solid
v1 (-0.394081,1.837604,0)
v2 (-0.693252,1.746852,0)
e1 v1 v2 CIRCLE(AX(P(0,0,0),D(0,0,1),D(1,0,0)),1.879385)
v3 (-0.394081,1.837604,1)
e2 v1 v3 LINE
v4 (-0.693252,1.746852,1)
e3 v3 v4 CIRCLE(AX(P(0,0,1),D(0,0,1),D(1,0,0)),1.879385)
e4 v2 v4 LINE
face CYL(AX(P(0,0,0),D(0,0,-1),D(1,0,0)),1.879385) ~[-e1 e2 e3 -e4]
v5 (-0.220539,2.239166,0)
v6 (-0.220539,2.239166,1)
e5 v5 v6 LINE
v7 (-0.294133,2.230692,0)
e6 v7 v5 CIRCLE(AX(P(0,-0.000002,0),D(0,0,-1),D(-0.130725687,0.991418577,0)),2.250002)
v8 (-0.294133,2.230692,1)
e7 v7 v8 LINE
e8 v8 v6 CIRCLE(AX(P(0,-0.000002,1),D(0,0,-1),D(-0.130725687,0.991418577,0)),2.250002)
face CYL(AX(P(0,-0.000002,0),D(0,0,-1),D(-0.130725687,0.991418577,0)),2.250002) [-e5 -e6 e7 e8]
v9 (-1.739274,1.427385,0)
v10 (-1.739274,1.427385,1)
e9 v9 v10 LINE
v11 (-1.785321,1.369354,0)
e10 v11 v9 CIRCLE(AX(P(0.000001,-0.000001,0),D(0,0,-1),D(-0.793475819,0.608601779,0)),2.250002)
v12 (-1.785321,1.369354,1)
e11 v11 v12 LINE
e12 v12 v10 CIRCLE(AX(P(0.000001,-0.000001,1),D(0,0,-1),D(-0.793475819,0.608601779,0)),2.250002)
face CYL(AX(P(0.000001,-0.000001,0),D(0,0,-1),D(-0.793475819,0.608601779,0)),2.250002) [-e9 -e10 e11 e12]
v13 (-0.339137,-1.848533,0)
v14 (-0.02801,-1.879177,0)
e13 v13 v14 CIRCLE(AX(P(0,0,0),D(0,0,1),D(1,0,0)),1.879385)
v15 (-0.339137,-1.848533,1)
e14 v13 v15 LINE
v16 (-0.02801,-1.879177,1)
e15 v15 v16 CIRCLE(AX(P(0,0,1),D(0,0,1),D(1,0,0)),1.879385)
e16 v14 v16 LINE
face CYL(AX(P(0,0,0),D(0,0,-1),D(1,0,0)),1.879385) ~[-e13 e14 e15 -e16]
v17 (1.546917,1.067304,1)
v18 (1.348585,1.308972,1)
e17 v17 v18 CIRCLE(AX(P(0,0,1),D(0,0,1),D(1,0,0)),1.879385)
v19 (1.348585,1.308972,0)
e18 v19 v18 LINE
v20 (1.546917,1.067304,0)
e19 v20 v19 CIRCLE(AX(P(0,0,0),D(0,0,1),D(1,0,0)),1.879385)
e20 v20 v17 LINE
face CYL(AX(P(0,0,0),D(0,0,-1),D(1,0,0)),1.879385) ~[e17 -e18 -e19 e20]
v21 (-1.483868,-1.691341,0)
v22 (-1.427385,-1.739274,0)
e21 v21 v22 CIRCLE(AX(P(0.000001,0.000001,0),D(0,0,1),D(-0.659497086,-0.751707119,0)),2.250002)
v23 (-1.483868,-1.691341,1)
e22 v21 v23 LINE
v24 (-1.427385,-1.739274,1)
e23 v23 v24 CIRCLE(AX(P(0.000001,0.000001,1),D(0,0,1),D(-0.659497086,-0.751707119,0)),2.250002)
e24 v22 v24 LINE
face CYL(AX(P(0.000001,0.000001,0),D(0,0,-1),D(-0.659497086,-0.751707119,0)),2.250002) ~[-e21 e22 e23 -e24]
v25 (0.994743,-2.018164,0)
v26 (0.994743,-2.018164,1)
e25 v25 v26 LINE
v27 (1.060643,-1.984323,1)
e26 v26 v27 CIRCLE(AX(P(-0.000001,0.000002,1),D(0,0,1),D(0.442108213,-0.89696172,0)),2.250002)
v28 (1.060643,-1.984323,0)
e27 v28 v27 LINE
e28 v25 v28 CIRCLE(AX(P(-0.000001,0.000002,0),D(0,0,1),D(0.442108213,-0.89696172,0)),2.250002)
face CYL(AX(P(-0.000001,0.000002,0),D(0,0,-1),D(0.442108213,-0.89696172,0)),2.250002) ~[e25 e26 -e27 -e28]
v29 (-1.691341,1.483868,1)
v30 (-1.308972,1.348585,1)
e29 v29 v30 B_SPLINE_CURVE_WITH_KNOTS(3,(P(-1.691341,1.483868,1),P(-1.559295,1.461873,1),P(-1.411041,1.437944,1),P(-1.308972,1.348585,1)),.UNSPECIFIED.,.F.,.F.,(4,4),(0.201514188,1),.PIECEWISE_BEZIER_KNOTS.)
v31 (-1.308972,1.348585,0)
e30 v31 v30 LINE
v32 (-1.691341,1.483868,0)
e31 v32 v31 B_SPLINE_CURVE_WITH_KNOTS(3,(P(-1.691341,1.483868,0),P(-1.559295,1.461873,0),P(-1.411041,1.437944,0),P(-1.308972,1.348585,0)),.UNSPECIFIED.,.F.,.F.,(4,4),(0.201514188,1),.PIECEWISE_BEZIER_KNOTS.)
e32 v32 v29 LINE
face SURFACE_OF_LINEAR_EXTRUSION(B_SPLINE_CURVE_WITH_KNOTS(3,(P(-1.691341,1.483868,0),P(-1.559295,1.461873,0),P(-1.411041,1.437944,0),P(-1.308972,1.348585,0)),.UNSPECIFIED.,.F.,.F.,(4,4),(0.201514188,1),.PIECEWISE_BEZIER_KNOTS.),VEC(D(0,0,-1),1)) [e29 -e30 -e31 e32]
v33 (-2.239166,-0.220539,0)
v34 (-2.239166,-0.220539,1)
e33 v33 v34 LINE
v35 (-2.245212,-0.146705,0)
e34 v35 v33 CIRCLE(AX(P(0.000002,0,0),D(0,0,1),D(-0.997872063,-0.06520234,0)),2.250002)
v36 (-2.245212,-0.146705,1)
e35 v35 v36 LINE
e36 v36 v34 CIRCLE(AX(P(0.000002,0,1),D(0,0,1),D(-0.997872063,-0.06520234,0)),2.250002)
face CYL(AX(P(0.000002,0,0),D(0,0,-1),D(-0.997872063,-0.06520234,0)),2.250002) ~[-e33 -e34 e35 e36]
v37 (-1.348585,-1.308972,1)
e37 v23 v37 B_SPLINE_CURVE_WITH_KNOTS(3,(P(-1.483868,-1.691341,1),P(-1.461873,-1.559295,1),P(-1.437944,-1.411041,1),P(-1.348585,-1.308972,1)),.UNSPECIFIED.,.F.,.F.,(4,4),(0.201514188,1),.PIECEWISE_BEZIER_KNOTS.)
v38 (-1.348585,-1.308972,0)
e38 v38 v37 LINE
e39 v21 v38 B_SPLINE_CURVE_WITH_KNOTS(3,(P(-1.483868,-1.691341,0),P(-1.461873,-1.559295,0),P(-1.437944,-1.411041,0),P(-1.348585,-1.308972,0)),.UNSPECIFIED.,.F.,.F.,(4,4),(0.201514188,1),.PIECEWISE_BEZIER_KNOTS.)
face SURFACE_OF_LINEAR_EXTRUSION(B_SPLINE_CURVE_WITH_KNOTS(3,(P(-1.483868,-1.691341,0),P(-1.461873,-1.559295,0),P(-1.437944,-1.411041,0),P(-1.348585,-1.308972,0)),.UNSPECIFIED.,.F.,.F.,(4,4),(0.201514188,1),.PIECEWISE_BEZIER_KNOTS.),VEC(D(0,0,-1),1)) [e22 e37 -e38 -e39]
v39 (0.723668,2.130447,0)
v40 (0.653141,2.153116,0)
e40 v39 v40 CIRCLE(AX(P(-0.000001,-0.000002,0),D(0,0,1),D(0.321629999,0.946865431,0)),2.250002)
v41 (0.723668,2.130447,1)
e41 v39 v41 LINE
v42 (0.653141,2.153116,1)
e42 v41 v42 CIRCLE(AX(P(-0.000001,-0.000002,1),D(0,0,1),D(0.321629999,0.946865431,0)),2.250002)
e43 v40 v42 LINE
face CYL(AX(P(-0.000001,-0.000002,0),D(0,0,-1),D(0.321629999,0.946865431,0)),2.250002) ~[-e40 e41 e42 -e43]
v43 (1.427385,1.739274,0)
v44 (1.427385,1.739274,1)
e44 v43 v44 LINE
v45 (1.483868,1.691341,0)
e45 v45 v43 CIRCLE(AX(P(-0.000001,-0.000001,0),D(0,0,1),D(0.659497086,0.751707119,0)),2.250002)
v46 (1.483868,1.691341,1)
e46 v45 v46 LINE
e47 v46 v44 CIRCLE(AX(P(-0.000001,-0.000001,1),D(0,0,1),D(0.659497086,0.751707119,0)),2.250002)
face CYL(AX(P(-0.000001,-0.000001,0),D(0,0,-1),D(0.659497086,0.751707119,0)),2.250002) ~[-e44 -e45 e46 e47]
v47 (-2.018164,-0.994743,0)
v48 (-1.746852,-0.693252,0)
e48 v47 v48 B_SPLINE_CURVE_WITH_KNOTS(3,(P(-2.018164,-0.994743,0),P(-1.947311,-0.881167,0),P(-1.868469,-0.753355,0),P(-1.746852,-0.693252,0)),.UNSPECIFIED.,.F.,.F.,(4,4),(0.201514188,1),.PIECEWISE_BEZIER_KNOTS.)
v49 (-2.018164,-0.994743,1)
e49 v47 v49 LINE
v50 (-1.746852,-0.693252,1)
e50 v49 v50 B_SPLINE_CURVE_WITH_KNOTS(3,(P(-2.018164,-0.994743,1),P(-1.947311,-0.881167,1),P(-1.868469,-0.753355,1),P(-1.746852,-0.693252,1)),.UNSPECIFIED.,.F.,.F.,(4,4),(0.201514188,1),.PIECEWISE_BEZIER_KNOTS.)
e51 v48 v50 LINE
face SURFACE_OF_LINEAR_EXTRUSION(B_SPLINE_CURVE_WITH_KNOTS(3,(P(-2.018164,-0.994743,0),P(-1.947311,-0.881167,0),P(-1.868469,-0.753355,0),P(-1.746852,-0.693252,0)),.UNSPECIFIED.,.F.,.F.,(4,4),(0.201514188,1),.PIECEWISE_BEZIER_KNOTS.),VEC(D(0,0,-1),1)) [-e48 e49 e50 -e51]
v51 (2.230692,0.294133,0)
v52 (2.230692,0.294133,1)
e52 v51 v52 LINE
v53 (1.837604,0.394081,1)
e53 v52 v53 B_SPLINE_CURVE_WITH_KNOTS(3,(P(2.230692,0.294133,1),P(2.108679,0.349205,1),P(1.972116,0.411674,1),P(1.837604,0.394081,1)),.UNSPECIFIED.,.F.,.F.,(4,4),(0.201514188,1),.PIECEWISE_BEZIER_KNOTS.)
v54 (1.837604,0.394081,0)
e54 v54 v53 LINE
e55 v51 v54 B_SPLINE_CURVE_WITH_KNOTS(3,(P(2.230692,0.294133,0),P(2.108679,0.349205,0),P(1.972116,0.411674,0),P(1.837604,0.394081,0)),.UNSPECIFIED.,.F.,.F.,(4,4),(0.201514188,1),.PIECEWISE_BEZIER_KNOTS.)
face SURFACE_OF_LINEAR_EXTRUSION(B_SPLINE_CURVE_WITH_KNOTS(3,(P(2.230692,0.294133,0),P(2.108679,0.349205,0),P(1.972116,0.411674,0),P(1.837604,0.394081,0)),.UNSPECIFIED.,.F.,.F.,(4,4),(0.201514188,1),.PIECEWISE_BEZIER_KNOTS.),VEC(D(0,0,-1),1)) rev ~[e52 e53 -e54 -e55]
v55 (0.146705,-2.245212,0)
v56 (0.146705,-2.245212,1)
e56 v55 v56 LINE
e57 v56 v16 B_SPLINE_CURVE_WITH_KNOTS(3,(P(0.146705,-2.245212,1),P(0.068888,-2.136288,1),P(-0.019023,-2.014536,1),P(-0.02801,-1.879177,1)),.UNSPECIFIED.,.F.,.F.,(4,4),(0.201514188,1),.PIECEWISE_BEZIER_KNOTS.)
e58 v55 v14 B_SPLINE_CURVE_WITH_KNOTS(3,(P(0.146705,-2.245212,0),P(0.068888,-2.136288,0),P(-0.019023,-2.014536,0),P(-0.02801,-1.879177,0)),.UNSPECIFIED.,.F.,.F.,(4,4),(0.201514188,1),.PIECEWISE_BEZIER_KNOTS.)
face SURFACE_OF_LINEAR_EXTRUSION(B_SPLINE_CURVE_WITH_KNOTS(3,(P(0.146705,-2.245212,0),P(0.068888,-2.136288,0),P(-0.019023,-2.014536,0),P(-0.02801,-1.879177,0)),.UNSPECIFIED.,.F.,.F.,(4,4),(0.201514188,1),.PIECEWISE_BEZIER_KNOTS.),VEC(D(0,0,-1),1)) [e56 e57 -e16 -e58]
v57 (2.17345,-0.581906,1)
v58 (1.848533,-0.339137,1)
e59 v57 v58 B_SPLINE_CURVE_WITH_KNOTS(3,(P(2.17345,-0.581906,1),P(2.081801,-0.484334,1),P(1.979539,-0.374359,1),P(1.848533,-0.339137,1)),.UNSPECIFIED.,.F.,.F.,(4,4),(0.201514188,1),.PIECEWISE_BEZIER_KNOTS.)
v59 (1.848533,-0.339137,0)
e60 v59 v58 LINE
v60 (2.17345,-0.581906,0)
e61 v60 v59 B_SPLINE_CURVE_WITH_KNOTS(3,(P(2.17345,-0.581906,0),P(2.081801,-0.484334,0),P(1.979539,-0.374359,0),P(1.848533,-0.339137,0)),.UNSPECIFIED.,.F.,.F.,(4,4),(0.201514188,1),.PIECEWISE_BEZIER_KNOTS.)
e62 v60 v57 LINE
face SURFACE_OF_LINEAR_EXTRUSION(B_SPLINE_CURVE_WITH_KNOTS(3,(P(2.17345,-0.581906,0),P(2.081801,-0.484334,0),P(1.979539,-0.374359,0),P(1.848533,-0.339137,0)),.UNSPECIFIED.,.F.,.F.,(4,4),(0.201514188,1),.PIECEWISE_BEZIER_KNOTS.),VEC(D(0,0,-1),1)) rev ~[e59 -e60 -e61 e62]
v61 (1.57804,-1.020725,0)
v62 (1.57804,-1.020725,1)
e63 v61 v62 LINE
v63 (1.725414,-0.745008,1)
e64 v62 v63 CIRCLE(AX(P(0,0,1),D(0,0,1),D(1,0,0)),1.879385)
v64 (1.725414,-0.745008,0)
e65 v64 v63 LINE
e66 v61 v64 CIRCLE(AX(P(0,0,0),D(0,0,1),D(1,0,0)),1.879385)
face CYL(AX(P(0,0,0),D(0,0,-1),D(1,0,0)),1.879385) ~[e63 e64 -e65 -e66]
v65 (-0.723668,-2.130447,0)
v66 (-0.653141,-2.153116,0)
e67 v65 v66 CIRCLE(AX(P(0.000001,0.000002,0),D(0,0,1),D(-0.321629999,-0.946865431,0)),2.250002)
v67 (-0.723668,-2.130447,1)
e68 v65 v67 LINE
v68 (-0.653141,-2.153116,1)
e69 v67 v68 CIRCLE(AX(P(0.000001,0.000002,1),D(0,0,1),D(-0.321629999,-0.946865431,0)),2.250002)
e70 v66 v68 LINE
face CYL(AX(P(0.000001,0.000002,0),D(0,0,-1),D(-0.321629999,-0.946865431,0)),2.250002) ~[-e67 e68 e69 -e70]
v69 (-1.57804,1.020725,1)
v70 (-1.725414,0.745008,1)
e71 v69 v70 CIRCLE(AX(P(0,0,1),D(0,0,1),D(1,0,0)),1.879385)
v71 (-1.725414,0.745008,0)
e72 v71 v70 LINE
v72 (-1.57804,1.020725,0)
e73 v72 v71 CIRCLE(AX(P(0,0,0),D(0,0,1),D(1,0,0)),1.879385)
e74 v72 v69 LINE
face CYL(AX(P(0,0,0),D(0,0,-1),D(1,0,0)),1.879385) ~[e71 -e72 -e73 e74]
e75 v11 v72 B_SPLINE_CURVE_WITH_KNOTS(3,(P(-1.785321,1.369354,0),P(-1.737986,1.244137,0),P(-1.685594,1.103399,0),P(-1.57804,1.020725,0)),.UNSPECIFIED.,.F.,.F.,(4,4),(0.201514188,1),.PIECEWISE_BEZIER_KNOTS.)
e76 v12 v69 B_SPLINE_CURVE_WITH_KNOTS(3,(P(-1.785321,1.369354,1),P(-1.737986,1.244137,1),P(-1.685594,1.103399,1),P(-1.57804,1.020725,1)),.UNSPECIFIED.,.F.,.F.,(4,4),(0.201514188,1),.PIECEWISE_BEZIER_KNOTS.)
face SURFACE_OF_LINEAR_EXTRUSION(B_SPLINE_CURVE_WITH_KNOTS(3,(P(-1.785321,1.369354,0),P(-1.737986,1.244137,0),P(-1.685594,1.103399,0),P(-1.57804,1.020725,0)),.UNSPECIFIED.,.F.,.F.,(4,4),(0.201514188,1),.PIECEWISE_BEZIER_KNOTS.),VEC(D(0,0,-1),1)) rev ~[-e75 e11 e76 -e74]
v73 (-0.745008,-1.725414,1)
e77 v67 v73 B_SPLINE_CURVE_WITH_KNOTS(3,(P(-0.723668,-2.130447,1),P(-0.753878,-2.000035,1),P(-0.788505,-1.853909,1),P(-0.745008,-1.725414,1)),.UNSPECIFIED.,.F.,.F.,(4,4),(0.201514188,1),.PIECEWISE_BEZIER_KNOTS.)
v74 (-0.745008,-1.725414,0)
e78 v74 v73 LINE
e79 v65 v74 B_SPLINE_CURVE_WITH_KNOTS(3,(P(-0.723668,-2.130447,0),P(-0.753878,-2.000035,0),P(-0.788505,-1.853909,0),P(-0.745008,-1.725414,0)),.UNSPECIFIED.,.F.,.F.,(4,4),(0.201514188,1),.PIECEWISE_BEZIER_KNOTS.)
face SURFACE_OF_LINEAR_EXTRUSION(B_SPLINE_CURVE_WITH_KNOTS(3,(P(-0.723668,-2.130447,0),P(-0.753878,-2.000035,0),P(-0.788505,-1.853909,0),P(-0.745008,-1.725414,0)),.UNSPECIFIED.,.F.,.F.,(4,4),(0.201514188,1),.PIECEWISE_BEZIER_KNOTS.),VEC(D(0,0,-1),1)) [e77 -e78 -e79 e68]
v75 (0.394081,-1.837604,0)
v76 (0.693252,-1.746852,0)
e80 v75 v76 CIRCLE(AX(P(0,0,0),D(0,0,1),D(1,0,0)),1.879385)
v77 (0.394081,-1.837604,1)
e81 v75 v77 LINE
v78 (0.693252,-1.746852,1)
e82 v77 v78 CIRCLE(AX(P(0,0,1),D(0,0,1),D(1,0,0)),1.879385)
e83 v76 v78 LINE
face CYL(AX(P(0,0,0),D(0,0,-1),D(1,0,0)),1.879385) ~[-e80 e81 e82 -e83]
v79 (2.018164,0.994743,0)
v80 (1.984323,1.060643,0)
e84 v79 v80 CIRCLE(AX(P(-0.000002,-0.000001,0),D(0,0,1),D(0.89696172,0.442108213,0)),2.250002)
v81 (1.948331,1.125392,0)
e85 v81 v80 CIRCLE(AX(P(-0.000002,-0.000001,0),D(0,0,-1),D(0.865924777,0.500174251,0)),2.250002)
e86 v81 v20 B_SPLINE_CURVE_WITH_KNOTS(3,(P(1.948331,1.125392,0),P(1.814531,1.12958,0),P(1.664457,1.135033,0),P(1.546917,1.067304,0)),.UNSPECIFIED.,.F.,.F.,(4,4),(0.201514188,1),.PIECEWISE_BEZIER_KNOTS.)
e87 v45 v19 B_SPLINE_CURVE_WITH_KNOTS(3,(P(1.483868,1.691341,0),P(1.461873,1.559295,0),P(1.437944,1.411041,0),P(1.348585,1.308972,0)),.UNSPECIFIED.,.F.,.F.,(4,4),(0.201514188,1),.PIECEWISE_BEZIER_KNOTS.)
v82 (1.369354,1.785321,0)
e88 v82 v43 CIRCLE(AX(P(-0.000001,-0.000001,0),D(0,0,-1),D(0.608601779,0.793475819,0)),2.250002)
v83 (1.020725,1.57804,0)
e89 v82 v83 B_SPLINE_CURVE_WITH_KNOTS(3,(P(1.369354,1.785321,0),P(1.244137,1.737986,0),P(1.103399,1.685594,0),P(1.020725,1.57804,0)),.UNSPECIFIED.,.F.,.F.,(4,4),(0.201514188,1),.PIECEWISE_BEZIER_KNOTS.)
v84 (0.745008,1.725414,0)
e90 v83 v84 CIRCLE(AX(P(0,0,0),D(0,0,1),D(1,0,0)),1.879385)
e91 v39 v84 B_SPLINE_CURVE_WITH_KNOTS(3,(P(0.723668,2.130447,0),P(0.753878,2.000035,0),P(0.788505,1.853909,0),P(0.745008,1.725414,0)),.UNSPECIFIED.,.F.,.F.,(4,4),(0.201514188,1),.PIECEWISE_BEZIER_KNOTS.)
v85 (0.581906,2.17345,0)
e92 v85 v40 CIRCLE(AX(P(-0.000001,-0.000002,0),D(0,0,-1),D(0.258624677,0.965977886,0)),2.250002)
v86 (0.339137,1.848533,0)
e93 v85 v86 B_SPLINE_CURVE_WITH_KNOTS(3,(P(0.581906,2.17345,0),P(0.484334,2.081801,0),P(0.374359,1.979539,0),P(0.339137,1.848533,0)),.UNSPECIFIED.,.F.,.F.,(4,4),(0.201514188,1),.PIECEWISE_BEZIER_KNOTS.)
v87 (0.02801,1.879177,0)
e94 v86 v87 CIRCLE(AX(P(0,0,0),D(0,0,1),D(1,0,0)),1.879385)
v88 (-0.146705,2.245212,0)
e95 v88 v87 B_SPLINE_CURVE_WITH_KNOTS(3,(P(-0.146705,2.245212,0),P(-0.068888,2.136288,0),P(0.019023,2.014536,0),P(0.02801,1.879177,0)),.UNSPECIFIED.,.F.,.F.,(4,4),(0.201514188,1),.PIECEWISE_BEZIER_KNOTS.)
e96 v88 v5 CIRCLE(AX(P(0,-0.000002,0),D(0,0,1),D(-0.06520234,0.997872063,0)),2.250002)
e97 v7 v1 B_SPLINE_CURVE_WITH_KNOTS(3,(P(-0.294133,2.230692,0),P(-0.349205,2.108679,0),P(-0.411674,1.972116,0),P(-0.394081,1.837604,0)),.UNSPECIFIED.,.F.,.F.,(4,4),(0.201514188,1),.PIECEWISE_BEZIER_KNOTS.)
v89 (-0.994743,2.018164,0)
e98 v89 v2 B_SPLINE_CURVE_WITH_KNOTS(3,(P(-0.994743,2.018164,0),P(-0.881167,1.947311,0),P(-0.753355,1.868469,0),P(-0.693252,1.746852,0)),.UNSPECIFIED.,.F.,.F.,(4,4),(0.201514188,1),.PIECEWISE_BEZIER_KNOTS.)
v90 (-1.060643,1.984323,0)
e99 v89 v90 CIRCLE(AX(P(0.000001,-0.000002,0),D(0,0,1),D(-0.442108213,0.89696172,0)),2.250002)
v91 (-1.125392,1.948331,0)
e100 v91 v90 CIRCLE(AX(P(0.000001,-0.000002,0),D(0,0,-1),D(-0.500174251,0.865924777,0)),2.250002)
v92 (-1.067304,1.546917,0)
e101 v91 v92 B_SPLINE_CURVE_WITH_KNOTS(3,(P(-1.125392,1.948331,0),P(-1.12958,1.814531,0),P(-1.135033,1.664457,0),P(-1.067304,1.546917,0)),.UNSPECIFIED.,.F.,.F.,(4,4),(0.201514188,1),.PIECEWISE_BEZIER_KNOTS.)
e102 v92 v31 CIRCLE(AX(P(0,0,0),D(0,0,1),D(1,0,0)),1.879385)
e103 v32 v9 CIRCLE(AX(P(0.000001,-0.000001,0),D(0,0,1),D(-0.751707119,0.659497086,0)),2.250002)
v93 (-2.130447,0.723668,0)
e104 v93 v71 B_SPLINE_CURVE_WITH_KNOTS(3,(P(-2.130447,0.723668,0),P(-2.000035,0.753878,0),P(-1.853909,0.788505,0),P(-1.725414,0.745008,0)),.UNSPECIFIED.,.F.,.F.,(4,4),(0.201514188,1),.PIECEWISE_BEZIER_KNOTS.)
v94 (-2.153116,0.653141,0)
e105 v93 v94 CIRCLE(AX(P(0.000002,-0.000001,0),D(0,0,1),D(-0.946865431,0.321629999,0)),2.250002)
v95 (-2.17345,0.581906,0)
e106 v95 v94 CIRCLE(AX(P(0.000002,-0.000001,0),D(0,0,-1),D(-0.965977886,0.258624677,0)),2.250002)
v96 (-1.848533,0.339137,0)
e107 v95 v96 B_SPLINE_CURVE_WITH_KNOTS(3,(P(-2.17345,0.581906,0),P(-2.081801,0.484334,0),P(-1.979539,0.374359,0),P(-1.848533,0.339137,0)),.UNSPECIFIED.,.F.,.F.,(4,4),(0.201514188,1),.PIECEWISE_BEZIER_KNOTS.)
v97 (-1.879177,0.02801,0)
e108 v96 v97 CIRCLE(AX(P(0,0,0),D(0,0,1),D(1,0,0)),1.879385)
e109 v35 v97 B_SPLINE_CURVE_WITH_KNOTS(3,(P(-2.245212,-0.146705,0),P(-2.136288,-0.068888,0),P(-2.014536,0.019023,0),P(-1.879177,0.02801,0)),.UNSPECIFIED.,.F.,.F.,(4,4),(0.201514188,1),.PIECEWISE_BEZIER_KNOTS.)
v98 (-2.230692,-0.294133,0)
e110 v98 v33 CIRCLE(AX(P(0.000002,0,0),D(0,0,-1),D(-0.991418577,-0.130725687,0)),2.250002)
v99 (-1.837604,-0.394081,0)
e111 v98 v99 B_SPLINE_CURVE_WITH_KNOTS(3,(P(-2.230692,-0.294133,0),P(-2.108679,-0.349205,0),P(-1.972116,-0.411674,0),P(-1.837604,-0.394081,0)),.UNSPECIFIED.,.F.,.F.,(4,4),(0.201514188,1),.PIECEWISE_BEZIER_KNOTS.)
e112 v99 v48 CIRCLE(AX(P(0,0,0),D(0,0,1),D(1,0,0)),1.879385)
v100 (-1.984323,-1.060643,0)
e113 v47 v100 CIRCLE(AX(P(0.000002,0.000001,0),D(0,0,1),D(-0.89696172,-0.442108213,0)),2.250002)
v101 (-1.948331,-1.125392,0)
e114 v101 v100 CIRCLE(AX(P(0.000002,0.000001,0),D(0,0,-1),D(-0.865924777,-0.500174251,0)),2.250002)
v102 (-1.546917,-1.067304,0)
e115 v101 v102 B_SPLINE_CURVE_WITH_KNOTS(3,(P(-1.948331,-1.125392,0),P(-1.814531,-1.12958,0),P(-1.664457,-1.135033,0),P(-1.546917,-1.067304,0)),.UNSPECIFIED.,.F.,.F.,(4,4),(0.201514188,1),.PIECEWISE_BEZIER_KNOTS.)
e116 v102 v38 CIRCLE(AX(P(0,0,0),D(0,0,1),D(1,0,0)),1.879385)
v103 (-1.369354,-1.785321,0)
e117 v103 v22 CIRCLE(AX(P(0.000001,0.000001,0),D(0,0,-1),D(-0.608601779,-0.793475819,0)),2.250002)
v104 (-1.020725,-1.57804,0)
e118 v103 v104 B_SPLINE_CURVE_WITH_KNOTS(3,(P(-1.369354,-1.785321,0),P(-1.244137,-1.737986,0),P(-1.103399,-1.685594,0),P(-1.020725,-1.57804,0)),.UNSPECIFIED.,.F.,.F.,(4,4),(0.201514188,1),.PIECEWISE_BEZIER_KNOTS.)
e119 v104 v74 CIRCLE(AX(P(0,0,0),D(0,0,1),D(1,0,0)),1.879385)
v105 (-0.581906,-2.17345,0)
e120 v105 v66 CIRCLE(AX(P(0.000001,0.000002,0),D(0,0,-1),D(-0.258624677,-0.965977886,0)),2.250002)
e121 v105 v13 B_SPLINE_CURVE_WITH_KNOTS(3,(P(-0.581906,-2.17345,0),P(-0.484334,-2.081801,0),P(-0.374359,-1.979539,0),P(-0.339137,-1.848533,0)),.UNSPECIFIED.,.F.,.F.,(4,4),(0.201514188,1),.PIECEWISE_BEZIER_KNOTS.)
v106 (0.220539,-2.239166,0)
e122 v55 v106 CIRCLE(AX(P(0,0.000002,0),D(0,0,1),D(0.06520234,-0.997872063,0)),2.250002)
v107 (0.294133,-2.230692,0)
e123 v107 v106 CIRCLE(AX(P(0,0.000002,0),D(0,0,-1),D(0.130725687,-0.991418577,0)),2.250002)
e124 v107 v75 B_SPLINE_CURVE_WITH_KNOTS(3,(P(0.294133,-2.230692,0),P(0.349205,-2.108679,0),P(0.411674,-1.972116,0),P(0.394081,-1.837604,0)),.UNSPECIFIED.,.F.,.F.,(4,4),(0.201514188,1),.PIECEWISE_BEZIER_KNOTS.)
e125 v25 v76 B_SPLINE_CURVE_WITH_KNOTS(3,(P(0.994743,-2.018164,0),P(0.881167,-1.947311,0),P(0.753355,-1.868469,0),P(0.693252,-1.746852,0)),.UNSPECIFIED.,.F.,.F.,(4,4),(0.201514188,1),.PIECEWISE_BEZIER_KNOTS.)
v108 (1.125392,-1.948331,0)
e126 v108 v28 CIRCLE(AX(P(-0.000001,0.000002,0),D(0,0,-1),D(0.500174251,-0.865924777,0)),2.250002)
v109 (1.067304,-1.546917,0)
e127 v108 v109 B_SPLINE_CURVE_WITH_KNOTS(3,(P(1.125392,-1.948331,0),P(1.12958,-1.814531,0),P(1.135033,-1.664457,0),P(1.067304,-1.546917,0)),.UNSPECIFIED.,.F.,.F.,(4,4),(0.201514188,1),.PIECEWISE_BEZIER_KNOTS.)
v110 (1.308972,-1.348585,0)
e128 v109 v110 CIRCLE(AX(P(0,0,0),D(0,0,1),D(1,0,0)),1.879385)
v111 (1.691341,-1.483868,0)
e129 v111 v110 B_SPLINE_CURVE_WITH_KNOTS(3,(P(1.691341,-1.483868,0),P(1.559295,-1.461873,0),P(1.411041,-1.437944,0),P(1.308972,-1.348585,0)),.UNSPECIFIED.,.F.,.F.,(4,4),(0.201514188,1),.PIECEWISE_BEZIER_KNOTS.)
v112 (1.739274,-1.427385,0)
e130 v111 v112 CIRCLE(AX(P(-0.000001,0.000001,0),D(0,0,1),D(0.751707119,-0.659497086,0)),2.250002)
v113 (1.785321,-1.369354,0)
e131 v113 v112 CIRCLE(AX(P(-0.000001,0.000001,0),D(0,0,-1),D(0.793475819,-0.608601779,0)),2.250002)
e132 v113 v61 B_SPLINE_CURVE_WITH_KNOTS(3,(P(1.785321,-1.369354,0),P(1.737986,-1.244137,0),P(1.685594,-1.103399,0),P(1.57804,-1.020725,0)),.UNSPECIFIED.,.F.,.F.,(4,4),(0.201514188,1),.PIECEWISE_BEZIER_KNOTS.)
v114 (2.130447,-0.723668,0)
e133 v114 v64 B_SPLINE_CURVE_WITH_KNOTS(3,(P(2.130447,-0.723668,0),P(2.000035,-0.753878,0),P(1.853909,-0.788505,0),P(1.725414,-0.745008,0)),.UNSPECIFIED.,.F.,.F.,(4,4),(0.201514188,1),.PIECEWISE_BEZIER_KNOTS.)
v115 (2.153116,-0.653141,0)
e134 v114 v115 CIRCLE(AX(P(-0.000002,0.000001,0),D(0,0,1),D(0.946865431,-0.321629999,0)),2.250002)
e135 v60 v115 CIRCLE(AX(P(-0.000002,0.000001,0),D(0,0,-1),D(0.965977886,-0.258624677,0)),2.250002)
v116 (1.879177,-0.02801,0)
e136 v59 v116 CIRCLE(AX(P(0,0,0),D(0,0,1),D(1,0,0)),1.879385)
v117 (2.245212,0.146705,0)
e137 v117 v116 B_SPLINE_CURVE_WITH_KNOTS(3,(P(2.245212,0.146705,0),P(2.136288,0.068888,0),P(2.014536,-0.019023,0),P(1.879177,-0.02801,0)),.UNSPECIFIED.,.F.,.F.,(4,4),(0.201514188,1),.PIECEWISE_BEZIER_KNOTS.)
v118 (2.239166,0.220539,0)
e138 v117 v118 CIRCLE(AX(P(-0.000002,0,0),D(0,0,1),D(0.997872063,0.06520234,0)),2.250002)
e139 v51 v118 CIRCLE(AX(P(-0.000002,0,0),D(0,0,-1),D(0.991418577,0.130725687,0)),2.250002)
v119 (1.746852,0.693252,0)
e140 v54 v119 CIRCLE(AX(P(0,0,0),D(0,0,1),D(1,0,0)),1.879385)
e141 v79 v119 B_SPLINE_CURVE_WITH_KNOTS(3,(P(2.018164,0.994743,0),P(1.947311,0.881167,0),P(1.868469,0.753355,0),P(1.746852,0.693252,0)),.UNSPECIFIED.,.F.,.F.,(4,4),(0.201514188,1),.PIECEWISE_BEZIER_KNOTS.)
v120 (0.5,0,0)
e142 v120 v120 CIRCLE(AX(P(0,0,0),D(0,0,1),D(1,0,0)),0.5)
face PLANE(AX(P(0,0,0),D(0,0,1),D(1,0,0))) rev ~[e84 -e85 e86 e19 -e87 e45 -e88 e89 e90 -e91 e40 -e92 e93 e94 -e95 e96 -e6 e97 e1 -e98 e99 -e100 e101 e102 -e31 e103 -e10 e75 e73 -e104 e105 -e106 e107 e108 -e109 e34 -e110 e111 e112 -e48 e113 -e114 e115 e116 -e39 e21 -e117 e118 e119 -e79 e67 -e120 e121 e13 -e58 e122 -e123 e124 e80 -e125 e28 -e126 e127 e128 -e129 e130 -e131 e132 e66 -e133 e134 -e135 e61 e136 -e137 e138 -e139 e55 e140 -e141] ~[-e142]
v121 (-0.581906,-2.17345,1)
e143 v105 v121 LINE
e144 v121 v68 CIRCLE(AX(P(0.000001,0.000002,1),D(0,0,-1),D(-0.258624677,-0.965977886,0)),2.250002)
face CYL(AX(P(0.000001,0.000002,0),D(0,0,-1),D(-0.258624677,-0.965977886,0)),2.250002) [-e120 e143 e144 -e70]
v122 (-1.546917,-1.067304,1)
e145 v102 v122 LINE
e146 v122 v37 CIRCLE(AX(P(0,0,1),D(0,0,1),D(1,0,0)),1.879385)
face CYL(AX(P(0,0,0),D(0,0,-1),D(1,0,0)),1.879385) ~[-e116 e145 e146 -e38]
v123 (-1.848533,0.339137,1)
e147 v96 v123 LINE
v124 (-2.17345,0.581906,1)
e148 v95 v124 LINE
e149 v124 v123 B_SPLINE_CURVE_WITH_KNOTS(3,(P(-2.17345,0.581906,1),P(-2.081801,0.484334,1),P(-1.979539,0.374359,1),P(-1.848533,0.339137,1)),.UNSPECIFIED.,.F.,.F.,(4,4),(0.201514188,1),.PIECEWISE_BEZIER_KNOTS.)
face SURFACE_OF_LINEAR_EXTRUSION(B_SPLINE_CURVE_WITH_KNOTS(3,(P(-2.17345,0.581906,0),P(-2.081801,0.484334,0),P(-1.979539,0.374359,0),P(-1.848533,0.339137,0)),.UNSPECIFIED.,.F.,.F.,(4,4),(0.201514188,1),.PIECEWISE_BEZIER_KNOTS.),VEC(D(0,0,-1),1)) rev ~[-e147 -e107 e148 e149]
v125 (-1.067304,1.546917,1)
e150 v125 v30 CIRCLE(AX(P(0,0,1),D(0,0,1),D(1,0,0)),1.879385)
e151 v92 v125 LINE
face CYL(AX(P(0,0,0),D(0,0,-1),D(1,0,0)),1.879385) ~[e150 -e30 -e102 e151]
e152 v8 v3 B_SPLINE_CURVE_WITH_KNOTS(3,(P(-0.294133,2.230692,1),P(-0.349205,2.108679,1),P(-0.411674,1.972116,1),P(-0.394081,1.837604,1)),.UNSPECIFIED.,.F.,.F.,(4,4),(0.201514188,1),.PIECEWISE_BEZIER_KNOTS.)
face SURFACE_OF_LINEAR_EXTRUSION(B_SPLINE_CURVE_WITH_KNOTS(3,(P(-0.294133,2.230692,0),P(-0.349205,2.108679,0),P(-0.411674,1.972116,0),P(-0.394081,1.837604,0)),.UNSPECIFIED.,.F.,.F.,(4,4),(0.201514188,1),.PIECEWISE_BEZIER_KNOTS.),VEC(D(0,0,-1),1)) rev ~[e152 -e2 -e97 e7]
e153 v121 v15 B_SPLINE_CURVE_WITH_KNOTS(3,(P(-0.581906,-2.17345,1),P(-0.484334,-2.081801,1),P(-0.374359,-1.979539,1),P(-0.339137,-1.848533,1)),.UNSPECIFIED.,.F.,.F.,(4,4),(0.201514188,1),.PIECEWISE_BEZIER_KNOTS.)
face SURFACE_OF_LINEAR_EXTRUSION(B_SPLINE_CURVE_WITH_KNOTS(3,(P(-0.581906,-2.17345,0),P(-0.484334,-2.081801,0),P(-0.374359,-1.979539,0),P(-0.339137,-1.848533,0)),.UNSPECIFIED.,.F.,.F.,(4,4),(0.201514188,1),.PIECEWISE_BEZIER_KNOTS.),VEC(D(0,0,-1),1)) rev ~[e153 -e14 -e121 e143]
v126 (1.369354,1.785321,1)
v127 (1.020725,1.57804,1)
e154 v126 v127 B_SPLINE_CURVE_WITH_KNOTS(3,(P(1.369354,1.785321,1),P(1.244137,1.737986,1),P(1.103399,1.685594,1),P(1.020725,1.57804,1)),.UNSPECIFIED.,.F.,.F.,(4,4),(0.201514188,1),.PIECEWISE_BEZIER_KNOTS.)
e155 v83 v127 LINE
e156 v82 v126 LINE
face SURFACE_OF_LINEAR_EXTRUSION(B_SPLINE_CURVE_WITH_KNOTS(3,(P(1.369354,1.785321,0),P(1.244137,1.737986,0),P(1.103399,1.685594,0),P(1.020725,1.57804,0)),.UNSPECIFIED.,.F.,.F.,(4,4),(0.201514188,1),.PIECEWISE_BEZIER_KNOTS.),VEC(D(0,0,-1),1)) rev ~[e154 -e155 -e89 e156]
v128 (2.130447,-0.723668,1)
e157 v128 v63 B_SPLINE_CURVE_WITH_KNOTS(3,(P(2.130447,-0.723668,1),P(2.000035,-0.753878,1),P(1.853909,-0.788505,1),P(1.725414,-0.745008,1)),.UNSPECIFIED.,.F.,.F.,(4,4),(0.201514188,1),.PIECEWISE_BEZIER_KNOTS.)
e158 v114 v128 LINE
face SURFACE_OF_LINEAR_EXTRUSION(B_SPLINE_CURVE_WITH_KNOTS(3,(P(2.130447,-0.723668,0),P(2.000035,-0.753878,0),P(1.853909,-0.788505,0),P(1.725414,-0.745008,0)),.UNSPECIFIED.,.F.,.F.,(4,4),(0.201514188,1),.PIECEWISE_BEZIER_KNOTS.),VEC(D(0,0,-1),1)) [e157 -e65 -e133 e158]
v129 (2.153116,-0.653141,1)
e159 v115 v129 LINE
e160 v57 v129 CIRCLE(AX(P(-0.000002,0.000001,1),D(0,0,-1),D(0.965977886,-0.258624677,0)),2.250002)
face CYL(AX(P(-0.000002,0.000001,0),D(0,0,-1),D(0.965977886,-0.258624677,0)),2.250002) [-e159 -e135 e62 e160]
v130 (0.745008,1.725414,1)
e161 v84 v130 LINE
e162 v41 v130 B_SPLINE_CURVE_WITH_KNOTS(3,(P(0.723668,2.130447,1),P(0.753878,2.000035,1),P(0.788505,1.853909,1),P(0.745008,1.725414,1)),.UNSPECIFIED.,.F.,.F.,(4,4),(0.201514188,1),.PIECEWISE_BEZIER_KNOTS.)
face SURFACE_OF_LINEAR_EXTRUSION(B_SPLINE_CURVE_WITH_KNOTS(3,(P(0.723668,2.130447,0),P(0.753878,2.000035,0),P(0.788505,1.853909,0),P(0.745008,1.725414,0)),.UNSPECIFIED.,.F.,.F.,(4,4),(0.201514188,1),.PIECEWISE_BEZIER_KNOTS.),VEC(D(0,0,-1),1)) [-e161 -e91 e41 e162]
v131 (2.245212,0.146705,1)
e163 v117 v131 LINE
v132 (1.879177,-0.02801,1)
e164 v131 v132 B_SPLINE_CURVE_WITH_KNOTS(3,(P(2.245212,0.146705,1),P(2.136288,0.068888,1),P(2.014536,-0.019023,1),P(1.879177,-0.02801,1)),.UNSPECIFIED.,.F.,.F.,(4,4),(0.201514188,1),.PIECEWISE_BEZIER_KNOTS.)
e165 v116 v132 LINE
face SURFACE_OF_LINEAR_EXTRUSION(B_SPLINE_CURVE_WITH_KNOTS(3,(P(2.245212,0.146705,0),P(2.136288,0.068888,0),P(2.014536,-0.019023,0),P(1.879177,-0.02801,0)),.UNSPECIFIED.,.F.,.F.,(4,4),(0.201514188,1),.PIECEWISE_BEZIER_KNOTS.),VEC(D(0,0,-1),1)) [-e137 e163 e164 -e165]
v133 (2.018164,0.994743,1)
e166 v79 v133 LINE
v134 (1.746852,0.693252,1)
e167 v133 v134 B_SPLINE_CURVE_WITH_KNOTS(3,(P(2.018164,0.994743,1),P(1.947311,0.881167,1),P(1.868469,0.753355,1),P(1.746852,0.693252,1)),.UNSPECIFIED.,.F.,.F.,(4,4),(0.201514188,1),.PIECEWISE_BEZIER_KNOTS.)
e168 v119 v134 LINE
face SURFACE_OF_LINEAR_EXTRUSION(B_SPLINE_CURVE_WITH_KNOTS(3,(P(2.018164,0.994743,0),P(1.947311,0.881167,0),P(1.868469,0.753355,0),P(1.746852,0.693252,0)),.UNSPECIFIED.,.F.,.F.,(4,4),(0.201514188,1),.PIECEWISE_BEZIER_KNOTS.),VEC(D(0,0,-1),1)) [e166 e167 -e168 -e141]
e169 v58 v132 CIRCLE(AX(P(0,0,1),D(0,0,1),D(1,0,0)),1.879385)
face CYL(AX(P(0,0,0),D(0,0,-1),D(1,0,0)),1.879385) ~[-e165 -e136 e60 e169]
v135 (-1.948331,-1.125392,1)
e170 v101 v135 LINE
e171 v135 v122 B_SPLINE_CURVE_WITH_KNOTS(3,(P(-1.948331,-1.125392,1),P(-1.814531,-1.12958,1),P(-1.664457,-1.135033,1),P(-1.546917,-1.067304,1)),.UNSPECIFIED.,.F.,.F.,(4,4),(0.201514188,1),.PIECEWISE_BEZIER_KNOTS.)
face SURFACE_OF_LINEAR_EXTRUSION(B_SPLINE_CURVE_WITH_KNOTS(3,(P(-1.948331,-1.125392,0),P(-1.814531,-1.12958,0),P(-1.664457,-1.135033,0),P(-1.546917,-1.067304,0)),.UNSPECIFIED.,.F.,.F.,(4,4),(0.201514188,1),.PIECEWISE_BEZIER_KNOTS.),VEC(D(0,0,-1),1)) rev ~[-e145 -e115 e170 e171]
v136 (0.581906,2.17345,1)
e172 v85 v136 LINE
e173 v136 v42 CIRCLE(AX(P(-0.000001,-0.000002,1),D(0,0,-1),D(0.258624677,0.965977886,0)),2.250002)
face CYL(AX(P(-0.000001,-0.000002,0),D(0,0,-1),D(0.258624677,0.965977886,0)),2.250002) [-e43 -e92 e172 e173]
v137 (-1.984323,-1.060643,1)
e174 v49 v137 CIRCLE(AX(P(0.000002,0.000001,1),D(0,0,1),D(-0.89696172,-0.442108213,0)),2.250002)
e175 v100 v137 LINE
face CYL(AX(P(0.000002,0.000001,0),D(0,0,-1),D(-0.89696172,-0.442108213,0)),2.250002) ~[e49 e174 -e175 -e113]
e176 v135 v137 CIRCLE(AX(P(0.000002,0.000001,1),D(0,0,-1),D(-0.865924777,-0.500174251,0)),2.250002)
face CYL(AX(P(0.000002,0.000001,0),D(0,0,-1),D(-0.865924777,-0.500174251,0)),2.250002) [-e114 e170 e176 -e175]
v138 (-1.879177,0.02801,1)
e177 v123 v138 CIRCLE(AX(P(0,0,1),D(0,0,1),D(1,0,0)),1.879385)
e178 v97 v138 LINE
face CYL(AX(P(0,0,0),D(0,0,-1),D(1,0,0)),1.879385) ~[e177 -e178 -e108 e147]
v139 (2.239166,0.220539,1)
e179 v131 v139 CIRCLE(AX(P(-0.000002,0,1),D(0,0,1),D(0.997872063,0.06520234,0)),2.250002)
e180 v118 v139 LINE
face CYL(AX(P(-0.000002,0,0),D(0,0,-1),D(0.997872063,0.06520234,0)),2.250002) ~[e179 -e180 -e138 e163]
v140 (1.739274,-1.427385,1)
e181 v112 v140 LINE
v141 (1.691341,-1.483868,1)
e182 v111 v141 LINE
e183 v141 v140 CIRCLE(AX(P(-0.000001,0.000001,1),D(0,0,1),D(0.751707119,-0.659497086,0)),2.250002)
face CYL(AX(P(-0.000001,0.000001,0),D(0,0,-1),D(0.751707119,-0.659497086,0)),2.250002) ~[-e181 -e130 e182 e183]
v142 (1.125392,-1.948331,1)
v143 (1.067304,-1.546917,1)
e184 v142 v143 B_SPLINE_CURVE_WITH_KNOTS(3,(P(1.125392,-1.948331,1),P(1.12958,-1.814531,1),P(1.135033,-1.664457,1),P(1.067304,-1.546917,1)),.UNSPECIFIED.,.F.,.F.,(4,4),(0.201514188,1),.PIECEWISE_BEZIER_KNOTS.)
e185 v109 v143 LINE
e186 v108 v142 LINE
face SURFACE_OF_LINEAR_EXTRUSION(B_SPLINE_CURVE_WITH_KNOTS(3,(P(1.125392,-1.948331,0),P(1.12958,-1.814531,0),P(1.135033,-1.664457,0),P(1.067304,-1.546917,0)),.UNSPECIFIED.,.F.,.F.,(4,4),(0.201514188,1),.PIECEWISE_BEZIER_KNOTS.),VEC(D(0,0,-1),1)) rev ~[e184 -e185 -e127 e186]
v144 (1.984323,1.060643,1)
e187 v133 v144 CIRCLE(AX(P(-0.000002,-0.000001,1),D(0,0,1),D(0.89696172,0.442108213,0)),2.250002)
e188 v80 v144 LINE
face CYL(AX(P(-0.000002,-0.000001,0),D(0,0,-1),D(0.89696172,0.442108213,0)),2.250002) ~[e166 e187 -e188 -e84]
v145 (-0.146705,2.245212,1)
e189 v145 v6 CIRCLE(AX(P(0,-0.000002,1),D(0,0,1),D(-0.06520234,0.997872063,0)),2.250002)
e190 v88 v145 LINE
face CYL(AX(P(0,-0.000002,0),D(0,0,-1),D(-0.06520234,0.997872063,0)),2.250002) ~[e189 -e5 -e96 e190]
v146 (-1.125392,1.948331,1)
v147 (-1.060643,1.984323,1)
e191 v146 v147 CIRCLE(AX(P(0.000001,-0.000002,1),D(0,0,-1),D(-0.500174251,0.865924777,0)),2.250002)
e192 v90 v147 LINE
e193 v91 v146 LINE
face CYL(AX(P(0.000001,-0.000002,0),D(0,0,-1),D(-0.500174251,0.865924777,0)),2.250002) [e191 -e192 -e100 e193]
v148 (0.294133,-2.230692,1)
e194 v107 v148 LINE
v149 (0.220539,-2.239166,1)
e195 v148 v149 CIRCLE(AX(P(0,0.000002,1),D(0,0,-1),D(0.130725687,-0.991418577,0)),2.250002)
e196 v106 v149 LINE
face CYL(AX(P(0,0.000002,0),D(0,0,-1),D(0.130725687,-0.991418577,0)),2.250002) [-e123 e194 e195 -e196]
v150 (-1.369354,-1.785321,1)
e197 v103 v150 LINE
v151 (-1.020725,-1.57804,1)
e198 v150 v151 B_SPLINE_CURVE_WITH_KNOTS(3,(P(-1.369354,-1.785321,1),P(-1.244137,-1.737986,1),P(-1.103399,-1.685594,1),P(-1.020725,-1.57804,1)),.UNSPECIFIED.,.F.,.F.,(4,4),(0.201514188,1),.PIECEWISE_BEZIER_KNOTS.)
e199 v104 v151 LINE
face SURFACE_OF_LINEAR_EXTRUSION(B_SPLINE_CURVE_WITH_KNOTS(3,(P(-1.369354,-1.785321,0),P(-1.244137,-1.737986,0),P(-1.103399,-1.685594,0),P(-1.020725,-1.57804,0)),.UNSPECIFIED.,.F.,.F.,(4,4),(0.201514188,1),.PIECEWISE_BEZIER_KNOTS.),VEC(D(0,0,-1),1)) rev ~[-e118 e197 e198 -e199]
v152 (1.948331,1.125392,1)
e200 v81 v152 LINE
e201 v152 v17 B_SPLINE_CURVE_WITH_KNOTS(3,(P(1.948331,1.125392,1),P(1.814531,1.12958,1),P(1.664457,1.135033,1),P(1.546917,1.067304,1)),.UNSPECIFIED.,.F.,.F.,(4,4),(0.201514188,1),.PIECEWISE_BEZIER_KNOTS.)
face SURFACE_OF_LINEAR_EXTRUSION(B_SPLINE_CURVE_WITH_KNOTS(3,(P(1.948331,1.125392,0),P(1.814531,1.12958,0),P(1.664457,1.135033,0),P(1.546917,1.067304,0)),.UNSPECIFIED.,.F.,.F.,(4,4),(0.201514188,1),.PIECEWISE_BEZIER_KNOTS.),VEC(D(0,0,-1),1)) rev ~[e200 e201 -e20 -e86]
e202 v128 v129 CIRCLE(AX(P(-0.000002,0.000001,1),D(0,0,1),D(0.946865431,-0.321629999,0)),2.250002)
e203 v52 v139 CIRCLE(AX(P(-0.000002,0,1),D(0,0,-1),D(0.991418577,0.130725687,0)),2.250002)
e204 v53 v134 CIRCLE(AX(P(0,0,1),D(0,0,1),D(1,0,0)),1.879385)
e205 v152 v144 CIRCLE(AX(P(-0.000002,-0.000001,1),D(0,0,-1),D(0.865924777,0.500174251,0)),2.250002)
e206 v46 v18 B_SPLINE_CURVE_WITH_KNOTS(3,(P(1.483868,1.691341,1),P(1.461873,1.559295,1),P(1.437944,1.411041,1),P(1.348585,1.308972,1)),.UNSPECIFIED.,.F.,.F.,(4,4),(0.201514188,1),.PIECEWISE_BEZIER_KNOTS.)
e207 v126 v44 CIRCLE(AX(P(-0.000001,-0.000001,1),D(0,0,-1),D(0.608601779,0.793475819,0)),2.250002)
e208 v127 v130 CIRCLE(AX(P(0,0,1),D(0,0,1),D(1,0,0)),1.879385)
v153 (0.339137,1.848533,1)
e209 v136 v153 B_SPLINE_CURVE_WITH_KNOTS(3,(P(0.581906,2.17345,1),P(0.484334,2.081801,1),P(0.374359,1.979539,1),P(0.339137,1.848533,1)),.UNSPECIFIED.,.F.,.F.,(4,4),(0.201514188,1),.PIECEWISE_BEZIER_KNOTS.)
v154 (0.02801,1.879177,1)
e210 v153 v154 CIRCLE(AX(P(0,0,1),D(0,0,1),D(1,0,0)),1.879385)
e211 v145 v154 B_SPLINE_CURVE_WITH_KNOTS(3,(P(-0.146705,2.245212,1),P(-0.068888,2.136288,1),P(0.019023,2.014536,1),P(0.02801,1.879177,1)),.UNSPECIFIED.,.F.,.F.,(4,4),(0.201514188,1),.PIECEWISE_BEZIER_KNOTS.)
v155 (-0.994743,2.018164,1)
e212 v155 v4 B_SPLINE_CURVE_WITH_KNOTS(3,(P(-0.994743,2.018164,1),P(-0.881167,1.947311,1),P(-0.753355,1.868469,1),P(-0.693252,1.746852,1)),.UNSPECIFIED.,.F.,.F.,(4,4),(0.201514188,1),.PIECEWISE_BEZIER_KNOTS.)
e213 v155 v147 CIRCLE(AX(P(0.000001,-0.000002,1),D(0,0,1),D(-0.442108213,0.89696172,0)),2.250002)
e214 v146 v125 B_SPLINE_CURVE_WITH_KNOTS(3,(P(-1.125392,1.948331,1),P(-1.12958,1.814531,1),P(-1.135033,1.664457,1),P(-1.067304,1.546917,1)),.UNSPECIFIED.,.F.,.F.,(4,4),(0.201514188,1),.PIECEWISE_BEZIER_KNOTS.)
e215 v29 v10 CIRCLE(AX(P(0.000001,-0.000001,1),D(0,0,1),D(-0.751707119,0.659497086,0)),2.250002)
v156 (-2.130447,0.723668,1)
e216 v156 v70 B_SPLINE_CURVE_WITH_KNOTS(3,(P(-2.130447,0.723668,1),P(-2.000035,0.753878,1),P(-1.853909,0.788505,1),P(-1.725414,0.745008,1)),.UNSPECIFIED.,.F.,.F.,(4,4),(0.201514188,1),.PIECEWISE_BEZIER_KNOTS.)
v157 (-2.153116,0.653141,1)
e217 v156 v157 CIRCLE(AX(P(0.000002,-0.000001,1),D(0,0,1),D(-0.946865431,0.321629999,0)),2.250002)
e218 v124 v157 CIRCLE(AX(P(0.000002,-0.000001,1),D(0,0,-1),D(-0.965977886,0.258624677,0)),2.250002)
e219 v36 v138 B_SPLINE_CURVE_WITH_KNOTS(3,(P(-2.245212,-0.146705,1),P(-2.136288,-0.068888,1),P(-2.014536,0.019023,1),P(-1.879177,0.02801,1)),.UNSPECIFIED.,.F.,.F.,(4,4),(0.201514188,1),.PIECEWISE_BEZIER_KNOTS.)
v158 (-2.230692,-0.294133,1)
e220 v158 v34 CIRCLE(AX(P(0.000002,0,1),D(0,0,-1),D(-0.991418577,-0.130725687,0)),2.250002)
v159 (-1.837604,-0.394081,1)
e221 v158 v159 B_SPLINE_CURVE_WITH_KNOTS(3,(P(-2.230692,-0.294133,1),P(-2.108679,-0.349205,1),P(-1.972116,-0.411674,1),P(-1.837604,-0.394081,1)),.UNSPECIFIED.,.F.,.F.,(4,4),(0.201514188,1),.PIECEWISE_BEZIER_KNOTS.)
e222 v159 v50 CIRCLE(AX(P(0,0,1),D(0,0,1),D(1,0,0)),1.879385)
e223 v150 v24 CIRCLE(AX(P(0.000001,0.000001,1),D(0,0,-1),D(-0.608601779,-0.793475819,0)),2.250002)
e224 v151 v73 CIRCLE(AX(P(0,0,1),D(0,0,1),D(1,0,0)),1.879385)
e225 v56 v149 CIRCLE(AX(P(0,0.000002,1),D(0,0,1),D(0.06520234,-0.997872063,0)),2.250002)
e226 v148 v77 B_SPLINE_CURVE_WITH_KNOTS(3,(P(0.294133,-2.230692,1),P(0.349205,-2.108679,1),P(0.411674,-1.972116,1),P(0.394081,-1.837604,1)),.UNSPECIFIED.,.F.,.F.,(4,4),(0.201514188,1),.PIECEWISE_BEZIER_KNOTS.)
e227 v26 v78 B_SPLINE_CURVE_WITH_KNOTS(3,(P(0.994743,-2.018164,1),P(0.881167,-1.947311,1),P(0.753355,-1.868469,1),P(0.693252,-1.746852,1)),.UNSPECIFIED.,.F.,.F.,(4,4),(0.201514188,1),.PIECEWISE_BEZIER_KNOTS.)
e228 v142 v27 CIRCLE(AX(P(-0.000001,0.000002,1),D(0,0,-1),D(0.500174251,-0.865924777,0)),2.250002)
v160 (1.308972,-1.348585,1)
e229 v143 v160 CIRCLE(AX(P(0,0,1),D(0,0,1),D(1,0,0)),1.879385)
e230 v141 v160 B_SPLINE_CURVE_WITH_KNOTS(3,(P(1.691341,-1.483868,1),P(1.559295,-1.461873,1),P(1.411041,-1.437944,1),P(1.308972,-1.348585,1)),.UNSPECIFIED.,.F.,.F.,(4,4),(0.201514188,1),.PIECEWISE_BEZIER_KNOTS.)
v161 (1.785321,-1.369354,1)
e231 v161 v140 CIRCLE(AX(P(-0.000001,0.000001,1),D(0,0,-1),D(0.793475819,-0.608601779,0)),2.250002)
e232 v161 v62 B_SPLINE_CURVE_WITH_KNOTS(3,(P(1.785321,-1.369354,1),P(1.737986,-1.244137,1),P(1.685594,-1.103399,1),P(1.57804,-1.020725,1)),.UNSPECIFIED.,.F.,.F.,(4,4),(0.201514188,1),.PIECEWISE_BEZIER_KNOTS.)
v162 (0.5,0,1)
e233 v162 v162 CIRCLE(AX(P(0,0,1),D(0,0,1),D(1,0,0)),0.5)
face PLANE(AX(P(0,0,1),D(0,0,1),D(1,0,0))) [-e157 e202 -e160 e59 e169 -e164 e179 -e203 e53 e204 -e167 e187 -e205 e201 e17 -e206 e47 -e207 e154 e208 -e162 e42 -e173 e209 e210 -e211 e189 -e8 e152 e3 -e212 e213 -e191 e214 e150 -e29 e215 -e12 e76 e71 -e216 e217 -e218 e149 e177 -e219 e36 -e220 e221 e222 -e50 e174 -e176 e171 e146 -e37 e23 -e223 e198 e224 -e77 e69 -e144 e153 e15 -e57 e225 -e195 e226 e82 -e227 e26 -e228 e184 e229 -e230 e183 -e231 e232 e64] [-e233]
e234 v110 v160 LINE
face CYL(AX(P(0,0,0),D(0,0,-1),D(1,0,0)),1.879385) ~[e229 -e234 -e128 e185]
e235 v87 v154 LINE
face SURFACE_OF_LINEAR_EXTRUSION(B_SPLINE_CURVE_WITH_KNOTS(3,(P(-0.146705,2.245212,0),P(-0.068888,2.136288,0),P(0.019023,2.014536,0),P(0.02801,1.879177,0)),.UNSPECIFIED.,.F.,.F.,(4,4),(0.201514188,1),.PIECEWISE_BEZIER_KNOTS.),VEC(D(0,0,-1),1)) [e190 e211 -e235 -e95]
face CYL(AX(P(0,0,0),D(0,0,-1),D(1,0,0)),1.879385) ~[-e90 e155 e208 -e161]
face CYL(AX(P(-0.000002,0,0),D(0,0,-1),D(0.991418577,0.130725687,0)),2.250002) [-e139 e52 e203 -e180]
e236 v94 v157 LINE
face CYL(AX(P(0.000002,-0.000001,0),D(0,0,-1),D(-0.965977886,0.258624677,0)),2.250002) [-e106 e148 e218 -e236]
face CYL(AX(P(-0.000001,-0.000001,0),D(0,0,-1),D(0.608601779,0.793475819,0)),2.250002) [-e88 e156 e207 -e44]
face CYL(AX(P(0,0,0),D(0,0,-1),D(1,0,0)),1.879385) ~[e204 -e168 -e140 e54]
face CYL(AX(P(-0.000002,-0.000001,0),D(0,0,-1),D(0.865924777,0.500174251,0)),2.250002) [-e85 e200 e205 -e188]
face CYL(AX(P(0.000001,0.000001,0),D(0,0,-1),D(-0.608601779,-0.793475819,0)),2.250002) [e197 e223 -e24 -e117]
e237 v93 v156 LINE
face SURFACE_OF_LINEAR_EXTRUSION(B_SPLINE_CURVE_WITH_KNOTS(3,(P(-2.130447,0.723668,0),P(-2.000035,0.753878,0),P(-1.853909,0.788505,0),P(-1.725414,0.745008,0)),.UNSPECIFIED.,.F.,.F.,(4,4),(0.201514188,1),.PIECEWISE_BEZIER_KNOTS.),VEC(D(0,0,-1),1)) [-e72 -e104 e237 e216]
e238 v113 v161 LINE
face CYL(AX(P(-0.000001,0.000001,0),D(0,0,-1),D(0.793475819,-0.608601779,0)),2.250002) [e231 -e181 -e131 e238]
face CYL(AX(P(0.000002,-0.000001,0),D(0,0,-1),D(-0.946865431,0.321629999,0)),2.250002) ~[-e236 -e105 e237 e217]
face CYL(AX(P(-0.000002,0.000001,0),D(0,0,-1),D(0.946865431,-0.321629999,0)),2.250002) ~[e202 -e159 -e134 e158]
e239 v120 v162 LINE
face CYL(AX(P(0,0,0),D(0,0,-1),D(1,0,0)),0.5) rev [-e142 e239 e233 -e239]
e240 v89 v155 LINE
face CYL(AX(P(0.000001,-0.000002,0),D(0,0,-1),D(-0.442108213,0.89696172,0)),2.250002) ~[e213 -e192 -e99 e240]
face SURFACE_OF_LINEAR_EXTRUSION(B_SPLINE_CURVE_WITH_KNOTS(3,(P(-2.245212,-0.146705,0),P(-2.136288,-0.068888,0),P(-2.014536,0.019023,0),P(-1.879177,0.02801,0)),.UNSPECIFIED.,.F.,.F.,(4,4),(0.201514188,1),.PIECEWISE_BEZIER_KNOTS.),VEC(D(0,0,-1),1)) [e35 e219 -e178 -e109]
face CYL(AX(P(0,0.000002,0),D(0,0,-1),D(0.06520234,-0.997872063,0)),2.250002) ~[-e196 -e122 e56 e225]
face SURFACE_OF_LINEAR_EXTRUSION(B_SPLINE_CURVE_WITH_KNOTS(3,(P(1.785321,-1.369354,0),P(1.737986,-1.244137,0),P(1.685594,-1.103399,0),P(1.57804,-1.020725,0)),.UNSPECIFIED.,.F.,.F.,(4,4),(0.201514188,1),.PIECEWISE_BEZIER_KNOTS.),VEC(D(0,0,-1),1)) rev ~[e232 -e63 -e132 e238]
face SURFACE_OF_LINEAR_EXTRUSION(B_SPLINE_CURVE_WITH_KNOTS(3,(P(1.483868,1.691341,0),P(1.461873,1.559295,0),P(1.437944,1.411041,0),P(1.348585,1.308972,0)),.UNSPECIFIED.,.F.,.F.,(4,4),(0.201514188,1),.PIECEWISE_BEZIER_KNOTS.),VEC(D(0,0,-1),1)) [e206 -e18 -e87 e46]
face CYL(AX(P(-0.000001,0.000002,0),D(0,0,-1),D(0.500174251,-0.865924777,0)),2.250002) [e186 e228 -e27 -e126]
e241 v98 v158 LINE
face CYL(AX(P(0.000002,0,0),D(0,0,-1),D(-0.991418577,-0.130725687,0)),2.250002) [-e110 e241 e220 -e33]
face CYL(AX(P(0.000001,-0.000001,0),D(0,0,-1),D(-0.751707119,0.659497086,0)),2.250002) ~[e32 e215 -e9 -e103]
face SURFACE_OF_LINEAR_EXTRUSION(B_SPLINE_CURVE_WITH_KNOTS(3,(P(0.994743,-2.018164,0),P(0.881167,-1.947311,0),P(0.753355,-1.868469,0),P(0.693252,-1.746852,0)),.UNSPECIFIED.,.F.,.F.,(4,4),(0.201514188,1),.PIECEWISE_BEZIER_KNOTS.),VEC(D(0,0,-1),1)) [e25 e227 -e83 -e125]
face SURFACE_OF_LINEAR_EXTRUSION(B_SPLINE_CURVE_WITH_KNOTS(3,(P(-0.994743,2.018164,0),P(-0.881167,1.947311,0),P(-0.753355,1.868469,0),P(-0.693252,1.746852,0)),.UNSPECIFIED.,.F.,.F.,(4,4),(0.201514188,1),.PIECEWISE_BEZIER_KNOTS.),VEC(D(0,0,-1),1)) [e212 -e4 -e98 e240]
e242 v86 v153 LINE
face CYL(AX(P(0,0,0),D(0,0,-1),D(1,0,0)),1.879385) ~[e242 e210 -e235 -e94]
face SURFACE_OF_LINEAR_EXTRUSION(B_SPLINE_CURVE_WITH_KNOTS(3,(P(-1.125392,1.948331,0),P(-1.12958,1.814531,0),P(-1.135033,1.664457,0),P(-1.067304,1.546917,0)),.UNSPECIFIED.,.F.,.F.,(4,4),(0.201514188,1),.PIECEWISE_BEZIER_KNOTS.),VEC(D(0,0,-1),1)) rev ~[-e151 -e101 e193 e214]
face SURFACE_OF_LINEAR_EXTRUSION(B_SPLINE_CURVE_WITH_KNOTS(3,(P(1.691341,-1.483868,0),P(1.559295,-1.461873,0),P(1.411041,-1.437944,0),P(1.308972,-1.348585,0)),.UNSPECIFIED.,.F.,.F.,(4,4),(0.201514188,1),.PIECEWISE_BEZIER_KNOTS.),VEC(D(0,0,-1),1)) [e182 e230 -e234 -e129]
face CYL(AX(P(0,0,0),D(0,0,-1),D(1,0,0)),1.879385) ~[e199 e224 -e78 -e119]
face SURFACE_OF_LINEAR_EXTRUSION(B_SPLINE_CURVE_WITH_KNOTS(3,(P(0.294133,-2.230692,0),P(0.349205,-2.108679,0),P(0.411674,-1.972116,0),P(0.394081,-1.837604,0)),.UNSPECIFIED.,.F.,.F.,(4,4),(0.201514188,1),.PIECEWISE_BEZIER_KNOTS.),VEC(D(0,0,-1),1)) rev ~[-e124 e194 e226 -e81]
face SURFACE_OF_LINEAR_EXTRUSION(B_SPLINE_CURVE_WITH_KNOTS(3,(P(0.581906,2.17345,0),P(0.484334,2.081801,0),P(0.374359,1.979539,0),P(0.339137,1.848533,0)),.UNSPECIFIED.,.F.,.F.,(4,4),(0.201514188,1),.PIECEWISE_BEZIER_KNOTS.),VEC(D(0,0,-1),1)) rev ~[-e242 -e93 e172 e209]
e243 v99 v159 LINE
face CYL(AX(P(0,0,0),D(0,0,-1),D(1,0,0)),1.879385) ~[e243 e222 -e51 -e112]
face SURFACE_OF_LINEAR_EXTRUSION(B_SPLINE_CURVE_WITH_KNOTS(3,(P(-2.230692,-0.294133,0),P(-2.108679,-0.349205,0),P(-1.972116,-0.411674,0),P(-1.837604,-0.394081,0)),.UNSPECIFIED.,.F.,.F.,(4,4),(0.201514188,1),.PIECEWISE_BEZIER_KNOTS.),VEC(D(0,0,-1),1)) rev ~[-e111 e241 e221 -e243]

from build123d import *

# Parameters (mm, degrees)
BOSS_EXTRUDE7_DEPTH = 1
CIRPATTERN1_COUNT   = 16
DIAMETRO_BASE_R     = 1.879385242
BOSS_EXTRUDE9_DEPTH = 1
MOZZO_R             = 0.5
CUT_EXTRUDE1_DEPTH  = 1


with BuildPart() as part:
    # profilo → Boss-Extrude7 (new body)
    with BuildSketch(Plane.XY):
        with BuildLine():
            Line((-0.220538566, 2.239165635), (-0.184211967, 1.870335488))
            ThreePointArc((-0.184211967, 1.870335488), (-0.078225963, 1.87775653), (0.028010042, 1.879176501))
            add(Edge.make_bspline(
                [(-0.14670524, 2.245212144), (-0.068888242, 2.136288179), (0.01902302, 2.014536344), (0.028010042, 1.879176501)],
                knots=[0.201514188, 0.201514188, 0.201514188, 0.201514188, 1, 1, 1, 1], degree=3))
            ThreePointArc((-0.14670524, 2.245212144), (-0.18364679, 2.242492777), (-0.220538566, 2.239165635))
        make_face()
    extrude(amount=BOSS_EXTRUDE7_DEPTH)

    # Mirror1: part across plane


with BuildPart() as part_1:
    add(part.part)
    add(part.part.mirror(Plane(origin=(0, 0, 0), x_dir=(0, 0, 1), z_dir=(0.9951847266721969, 0.09801714032956142, 0))))


with BuildPart() as cirpattern1_1:
    # CirPattern1: pattern copy
    add(part_1.part.rotate(Axis((0, 0, 1), (0, 0, 1)), 1 * 360 / CIRPATTERN1_COUNT))


with BuildPart() as cirpattern1_2:
    # CirPattern1: pattern copy
    add(part_1.part.rotate(Axis((0, 0, 1), (0, 0, 1)), 2 * 360 / CIRPATTERN1_COUNT))


with BuildPart() as cirpattern1_3:
    # CirPattern1: pattern copy
    add(part_1.part.rotate(Axis((0, 0, 1), (0, 0, 1)), 3 * 360 / CIRPATTERN1_COUNT))


with BuildPart() as cirpattern1_4:
    # CirPattern1: pattern copy
    add(part_1.part.rotate(Axis((0, 0, 1), (0, 0, 1)), 4 * 360 / CIRPATTERN1_COUNT))


with BuildPart() as cirpattern1_5:
    # CirPattern1: pattern copy
    add(part_1.part.rotate(Axis((0, 0, 1), (0, 0, 1)), 5 * 360 / CIRPATTERN1_COUNT))


with BuildPart() as cirpattern1_6:
    # CirPattern1: pattern copy
    add(part_1.part.rotate(Axis((0, 0, 1), (0, 0, 1)), 6 * 360 / CIRPATTERN1_COUNT))


with BuildPart() as cirpattern1_7:
    # CirPattern1: pattern copy
    add(part_1.part.rotate(Axis((0, 0, 1), (0, 0, 1)), 7 * 360 / CIRPATTERN1_COUNT))


with BuildPart() as cirpattern1_8:
    # CirPattern1: pattern copy
    add(part_1.part.rotate(Axis((0, 0, 1), (0, 0, 1)), 8 * 360 / CIRPATTERN1_COUNT))


with BuildPart() as cirpattern1_9:
    # CirPattern1: pattern copy
    add(part_1.part.rotate(Axis((0, 0, 1), (0, 0, 1)), 9 * 360 / CIRPATTERN1_COUNT))


with BuildPart() as cirpattern1_10:
    # CirPattern1: pattern copy
    add(part_1.part.rotate(Axis((0, 0, 1), (0, 0, 1)), 10 * 360 / CIRPATTERN1_COUNT))


with BuildPart() as cirpattern1_11:
    # CirPattern1: pattern copy
    add(part_1.part.rotate(Axis((0, 0, 1), (0, 0, 1)), 11 * 360 / CIRPATTERN1_COUNT))


with BuildPart() as cirpattern1_12:
    # CirPattern1: pattern copy
    add(part_1.part.rotate(Axis((0, 0, 1), (0, 0, 1)), 12 * 360 / CIRPATTERN1_COUNT))


with BuildPart() as cirpattern1_13:
    # CirPattern1: pattern copy
    add(part_1.part.rotate(Axis((0, 0, 1), (0, 0, 1)), 13 * 360 / CIRPATTERN1_COUNT))


with BuildPart() as cirpattern1_14:
    # CirPattern1: pattern copy
    add(part_1.part.rotate(Axis((0, 0, 1), (0, 0, 1)), 14 * 360 / CIRPATTERN1_COUNT))


with BuildPart() as cirpattern1_15:
    # CirPattern1: pattern copy
    add(part_1.part.rotate(Axis((0, 0, 1), (0, 0, 1)), 15 * 360 / CIRPATTERN1_COUNT))


with BuildPart() as part_2:
    add(part_1.part)

    add(cirpattern1_1.part)  # Boss-Extrude9 merges CirPattern1_1

    add(cirpattern1_2.part)  # Boss-Extrude9 merges CirPattern1_2

    add(cirpattern1_3.part)  # Boss-Extrude9 merges CirPattern1_3

    add(cirpattern1_4.part)  # Boss-Extrude9 merges CirPattern1_4

    add(cirpattern1_5.part)  # Boss-Extrude9 merges CirPattern1_5

    add(cirpattern1_6.part)  # Boss-Extrude9 merges CirPattern1_6

    add(cirpattern1_7.part)  # Boss-Extrude9 merges CirPattern1_7

    add(cirpattern1_8.part)  # Boss-Extrude9 merges CirPattern1_8

    add(cirpattern1_9.part)  # Boss-Extrude9 merges CirPattern1_9

    add(cirpattern1_10.part)  # Boss-Extrude9 merges CirPattern1_10

    add(cirpattern1_11.part)  # Boss-Extrude9 merges CirPattern1_11

    add(cirpattern1_12.part)  # Boss-Extrude9 merges CirPattern1_12

    add(cirpattern1_13.part)  # Boss-Extrude9 merges CirPattern1_13

    add(cirpattern1_14.part)  # Boss-Extrude9 merges CirPattern1_14

    add(cirpattern1_15.part)  # Boss-Extrude9 merges CirPattern1_15
    # diametro base → Boss-Extrude9 (add)
    with BuildSketch(Plane.XY):
        Circle(DIAMETRO_BASE_R)
    extrude(amount=BOSS_EXTRUDE9_DEPTH)

    # mozzo → Cut-Extrude1 (cut)
    with BuildSketch(Plane.XY):
        Circle(MOZZO_R)
    extrude(amount=CUT_EXTRUDE1_DEPTH, mode=Mode.SUBTRACT)


solid = part_2.part
